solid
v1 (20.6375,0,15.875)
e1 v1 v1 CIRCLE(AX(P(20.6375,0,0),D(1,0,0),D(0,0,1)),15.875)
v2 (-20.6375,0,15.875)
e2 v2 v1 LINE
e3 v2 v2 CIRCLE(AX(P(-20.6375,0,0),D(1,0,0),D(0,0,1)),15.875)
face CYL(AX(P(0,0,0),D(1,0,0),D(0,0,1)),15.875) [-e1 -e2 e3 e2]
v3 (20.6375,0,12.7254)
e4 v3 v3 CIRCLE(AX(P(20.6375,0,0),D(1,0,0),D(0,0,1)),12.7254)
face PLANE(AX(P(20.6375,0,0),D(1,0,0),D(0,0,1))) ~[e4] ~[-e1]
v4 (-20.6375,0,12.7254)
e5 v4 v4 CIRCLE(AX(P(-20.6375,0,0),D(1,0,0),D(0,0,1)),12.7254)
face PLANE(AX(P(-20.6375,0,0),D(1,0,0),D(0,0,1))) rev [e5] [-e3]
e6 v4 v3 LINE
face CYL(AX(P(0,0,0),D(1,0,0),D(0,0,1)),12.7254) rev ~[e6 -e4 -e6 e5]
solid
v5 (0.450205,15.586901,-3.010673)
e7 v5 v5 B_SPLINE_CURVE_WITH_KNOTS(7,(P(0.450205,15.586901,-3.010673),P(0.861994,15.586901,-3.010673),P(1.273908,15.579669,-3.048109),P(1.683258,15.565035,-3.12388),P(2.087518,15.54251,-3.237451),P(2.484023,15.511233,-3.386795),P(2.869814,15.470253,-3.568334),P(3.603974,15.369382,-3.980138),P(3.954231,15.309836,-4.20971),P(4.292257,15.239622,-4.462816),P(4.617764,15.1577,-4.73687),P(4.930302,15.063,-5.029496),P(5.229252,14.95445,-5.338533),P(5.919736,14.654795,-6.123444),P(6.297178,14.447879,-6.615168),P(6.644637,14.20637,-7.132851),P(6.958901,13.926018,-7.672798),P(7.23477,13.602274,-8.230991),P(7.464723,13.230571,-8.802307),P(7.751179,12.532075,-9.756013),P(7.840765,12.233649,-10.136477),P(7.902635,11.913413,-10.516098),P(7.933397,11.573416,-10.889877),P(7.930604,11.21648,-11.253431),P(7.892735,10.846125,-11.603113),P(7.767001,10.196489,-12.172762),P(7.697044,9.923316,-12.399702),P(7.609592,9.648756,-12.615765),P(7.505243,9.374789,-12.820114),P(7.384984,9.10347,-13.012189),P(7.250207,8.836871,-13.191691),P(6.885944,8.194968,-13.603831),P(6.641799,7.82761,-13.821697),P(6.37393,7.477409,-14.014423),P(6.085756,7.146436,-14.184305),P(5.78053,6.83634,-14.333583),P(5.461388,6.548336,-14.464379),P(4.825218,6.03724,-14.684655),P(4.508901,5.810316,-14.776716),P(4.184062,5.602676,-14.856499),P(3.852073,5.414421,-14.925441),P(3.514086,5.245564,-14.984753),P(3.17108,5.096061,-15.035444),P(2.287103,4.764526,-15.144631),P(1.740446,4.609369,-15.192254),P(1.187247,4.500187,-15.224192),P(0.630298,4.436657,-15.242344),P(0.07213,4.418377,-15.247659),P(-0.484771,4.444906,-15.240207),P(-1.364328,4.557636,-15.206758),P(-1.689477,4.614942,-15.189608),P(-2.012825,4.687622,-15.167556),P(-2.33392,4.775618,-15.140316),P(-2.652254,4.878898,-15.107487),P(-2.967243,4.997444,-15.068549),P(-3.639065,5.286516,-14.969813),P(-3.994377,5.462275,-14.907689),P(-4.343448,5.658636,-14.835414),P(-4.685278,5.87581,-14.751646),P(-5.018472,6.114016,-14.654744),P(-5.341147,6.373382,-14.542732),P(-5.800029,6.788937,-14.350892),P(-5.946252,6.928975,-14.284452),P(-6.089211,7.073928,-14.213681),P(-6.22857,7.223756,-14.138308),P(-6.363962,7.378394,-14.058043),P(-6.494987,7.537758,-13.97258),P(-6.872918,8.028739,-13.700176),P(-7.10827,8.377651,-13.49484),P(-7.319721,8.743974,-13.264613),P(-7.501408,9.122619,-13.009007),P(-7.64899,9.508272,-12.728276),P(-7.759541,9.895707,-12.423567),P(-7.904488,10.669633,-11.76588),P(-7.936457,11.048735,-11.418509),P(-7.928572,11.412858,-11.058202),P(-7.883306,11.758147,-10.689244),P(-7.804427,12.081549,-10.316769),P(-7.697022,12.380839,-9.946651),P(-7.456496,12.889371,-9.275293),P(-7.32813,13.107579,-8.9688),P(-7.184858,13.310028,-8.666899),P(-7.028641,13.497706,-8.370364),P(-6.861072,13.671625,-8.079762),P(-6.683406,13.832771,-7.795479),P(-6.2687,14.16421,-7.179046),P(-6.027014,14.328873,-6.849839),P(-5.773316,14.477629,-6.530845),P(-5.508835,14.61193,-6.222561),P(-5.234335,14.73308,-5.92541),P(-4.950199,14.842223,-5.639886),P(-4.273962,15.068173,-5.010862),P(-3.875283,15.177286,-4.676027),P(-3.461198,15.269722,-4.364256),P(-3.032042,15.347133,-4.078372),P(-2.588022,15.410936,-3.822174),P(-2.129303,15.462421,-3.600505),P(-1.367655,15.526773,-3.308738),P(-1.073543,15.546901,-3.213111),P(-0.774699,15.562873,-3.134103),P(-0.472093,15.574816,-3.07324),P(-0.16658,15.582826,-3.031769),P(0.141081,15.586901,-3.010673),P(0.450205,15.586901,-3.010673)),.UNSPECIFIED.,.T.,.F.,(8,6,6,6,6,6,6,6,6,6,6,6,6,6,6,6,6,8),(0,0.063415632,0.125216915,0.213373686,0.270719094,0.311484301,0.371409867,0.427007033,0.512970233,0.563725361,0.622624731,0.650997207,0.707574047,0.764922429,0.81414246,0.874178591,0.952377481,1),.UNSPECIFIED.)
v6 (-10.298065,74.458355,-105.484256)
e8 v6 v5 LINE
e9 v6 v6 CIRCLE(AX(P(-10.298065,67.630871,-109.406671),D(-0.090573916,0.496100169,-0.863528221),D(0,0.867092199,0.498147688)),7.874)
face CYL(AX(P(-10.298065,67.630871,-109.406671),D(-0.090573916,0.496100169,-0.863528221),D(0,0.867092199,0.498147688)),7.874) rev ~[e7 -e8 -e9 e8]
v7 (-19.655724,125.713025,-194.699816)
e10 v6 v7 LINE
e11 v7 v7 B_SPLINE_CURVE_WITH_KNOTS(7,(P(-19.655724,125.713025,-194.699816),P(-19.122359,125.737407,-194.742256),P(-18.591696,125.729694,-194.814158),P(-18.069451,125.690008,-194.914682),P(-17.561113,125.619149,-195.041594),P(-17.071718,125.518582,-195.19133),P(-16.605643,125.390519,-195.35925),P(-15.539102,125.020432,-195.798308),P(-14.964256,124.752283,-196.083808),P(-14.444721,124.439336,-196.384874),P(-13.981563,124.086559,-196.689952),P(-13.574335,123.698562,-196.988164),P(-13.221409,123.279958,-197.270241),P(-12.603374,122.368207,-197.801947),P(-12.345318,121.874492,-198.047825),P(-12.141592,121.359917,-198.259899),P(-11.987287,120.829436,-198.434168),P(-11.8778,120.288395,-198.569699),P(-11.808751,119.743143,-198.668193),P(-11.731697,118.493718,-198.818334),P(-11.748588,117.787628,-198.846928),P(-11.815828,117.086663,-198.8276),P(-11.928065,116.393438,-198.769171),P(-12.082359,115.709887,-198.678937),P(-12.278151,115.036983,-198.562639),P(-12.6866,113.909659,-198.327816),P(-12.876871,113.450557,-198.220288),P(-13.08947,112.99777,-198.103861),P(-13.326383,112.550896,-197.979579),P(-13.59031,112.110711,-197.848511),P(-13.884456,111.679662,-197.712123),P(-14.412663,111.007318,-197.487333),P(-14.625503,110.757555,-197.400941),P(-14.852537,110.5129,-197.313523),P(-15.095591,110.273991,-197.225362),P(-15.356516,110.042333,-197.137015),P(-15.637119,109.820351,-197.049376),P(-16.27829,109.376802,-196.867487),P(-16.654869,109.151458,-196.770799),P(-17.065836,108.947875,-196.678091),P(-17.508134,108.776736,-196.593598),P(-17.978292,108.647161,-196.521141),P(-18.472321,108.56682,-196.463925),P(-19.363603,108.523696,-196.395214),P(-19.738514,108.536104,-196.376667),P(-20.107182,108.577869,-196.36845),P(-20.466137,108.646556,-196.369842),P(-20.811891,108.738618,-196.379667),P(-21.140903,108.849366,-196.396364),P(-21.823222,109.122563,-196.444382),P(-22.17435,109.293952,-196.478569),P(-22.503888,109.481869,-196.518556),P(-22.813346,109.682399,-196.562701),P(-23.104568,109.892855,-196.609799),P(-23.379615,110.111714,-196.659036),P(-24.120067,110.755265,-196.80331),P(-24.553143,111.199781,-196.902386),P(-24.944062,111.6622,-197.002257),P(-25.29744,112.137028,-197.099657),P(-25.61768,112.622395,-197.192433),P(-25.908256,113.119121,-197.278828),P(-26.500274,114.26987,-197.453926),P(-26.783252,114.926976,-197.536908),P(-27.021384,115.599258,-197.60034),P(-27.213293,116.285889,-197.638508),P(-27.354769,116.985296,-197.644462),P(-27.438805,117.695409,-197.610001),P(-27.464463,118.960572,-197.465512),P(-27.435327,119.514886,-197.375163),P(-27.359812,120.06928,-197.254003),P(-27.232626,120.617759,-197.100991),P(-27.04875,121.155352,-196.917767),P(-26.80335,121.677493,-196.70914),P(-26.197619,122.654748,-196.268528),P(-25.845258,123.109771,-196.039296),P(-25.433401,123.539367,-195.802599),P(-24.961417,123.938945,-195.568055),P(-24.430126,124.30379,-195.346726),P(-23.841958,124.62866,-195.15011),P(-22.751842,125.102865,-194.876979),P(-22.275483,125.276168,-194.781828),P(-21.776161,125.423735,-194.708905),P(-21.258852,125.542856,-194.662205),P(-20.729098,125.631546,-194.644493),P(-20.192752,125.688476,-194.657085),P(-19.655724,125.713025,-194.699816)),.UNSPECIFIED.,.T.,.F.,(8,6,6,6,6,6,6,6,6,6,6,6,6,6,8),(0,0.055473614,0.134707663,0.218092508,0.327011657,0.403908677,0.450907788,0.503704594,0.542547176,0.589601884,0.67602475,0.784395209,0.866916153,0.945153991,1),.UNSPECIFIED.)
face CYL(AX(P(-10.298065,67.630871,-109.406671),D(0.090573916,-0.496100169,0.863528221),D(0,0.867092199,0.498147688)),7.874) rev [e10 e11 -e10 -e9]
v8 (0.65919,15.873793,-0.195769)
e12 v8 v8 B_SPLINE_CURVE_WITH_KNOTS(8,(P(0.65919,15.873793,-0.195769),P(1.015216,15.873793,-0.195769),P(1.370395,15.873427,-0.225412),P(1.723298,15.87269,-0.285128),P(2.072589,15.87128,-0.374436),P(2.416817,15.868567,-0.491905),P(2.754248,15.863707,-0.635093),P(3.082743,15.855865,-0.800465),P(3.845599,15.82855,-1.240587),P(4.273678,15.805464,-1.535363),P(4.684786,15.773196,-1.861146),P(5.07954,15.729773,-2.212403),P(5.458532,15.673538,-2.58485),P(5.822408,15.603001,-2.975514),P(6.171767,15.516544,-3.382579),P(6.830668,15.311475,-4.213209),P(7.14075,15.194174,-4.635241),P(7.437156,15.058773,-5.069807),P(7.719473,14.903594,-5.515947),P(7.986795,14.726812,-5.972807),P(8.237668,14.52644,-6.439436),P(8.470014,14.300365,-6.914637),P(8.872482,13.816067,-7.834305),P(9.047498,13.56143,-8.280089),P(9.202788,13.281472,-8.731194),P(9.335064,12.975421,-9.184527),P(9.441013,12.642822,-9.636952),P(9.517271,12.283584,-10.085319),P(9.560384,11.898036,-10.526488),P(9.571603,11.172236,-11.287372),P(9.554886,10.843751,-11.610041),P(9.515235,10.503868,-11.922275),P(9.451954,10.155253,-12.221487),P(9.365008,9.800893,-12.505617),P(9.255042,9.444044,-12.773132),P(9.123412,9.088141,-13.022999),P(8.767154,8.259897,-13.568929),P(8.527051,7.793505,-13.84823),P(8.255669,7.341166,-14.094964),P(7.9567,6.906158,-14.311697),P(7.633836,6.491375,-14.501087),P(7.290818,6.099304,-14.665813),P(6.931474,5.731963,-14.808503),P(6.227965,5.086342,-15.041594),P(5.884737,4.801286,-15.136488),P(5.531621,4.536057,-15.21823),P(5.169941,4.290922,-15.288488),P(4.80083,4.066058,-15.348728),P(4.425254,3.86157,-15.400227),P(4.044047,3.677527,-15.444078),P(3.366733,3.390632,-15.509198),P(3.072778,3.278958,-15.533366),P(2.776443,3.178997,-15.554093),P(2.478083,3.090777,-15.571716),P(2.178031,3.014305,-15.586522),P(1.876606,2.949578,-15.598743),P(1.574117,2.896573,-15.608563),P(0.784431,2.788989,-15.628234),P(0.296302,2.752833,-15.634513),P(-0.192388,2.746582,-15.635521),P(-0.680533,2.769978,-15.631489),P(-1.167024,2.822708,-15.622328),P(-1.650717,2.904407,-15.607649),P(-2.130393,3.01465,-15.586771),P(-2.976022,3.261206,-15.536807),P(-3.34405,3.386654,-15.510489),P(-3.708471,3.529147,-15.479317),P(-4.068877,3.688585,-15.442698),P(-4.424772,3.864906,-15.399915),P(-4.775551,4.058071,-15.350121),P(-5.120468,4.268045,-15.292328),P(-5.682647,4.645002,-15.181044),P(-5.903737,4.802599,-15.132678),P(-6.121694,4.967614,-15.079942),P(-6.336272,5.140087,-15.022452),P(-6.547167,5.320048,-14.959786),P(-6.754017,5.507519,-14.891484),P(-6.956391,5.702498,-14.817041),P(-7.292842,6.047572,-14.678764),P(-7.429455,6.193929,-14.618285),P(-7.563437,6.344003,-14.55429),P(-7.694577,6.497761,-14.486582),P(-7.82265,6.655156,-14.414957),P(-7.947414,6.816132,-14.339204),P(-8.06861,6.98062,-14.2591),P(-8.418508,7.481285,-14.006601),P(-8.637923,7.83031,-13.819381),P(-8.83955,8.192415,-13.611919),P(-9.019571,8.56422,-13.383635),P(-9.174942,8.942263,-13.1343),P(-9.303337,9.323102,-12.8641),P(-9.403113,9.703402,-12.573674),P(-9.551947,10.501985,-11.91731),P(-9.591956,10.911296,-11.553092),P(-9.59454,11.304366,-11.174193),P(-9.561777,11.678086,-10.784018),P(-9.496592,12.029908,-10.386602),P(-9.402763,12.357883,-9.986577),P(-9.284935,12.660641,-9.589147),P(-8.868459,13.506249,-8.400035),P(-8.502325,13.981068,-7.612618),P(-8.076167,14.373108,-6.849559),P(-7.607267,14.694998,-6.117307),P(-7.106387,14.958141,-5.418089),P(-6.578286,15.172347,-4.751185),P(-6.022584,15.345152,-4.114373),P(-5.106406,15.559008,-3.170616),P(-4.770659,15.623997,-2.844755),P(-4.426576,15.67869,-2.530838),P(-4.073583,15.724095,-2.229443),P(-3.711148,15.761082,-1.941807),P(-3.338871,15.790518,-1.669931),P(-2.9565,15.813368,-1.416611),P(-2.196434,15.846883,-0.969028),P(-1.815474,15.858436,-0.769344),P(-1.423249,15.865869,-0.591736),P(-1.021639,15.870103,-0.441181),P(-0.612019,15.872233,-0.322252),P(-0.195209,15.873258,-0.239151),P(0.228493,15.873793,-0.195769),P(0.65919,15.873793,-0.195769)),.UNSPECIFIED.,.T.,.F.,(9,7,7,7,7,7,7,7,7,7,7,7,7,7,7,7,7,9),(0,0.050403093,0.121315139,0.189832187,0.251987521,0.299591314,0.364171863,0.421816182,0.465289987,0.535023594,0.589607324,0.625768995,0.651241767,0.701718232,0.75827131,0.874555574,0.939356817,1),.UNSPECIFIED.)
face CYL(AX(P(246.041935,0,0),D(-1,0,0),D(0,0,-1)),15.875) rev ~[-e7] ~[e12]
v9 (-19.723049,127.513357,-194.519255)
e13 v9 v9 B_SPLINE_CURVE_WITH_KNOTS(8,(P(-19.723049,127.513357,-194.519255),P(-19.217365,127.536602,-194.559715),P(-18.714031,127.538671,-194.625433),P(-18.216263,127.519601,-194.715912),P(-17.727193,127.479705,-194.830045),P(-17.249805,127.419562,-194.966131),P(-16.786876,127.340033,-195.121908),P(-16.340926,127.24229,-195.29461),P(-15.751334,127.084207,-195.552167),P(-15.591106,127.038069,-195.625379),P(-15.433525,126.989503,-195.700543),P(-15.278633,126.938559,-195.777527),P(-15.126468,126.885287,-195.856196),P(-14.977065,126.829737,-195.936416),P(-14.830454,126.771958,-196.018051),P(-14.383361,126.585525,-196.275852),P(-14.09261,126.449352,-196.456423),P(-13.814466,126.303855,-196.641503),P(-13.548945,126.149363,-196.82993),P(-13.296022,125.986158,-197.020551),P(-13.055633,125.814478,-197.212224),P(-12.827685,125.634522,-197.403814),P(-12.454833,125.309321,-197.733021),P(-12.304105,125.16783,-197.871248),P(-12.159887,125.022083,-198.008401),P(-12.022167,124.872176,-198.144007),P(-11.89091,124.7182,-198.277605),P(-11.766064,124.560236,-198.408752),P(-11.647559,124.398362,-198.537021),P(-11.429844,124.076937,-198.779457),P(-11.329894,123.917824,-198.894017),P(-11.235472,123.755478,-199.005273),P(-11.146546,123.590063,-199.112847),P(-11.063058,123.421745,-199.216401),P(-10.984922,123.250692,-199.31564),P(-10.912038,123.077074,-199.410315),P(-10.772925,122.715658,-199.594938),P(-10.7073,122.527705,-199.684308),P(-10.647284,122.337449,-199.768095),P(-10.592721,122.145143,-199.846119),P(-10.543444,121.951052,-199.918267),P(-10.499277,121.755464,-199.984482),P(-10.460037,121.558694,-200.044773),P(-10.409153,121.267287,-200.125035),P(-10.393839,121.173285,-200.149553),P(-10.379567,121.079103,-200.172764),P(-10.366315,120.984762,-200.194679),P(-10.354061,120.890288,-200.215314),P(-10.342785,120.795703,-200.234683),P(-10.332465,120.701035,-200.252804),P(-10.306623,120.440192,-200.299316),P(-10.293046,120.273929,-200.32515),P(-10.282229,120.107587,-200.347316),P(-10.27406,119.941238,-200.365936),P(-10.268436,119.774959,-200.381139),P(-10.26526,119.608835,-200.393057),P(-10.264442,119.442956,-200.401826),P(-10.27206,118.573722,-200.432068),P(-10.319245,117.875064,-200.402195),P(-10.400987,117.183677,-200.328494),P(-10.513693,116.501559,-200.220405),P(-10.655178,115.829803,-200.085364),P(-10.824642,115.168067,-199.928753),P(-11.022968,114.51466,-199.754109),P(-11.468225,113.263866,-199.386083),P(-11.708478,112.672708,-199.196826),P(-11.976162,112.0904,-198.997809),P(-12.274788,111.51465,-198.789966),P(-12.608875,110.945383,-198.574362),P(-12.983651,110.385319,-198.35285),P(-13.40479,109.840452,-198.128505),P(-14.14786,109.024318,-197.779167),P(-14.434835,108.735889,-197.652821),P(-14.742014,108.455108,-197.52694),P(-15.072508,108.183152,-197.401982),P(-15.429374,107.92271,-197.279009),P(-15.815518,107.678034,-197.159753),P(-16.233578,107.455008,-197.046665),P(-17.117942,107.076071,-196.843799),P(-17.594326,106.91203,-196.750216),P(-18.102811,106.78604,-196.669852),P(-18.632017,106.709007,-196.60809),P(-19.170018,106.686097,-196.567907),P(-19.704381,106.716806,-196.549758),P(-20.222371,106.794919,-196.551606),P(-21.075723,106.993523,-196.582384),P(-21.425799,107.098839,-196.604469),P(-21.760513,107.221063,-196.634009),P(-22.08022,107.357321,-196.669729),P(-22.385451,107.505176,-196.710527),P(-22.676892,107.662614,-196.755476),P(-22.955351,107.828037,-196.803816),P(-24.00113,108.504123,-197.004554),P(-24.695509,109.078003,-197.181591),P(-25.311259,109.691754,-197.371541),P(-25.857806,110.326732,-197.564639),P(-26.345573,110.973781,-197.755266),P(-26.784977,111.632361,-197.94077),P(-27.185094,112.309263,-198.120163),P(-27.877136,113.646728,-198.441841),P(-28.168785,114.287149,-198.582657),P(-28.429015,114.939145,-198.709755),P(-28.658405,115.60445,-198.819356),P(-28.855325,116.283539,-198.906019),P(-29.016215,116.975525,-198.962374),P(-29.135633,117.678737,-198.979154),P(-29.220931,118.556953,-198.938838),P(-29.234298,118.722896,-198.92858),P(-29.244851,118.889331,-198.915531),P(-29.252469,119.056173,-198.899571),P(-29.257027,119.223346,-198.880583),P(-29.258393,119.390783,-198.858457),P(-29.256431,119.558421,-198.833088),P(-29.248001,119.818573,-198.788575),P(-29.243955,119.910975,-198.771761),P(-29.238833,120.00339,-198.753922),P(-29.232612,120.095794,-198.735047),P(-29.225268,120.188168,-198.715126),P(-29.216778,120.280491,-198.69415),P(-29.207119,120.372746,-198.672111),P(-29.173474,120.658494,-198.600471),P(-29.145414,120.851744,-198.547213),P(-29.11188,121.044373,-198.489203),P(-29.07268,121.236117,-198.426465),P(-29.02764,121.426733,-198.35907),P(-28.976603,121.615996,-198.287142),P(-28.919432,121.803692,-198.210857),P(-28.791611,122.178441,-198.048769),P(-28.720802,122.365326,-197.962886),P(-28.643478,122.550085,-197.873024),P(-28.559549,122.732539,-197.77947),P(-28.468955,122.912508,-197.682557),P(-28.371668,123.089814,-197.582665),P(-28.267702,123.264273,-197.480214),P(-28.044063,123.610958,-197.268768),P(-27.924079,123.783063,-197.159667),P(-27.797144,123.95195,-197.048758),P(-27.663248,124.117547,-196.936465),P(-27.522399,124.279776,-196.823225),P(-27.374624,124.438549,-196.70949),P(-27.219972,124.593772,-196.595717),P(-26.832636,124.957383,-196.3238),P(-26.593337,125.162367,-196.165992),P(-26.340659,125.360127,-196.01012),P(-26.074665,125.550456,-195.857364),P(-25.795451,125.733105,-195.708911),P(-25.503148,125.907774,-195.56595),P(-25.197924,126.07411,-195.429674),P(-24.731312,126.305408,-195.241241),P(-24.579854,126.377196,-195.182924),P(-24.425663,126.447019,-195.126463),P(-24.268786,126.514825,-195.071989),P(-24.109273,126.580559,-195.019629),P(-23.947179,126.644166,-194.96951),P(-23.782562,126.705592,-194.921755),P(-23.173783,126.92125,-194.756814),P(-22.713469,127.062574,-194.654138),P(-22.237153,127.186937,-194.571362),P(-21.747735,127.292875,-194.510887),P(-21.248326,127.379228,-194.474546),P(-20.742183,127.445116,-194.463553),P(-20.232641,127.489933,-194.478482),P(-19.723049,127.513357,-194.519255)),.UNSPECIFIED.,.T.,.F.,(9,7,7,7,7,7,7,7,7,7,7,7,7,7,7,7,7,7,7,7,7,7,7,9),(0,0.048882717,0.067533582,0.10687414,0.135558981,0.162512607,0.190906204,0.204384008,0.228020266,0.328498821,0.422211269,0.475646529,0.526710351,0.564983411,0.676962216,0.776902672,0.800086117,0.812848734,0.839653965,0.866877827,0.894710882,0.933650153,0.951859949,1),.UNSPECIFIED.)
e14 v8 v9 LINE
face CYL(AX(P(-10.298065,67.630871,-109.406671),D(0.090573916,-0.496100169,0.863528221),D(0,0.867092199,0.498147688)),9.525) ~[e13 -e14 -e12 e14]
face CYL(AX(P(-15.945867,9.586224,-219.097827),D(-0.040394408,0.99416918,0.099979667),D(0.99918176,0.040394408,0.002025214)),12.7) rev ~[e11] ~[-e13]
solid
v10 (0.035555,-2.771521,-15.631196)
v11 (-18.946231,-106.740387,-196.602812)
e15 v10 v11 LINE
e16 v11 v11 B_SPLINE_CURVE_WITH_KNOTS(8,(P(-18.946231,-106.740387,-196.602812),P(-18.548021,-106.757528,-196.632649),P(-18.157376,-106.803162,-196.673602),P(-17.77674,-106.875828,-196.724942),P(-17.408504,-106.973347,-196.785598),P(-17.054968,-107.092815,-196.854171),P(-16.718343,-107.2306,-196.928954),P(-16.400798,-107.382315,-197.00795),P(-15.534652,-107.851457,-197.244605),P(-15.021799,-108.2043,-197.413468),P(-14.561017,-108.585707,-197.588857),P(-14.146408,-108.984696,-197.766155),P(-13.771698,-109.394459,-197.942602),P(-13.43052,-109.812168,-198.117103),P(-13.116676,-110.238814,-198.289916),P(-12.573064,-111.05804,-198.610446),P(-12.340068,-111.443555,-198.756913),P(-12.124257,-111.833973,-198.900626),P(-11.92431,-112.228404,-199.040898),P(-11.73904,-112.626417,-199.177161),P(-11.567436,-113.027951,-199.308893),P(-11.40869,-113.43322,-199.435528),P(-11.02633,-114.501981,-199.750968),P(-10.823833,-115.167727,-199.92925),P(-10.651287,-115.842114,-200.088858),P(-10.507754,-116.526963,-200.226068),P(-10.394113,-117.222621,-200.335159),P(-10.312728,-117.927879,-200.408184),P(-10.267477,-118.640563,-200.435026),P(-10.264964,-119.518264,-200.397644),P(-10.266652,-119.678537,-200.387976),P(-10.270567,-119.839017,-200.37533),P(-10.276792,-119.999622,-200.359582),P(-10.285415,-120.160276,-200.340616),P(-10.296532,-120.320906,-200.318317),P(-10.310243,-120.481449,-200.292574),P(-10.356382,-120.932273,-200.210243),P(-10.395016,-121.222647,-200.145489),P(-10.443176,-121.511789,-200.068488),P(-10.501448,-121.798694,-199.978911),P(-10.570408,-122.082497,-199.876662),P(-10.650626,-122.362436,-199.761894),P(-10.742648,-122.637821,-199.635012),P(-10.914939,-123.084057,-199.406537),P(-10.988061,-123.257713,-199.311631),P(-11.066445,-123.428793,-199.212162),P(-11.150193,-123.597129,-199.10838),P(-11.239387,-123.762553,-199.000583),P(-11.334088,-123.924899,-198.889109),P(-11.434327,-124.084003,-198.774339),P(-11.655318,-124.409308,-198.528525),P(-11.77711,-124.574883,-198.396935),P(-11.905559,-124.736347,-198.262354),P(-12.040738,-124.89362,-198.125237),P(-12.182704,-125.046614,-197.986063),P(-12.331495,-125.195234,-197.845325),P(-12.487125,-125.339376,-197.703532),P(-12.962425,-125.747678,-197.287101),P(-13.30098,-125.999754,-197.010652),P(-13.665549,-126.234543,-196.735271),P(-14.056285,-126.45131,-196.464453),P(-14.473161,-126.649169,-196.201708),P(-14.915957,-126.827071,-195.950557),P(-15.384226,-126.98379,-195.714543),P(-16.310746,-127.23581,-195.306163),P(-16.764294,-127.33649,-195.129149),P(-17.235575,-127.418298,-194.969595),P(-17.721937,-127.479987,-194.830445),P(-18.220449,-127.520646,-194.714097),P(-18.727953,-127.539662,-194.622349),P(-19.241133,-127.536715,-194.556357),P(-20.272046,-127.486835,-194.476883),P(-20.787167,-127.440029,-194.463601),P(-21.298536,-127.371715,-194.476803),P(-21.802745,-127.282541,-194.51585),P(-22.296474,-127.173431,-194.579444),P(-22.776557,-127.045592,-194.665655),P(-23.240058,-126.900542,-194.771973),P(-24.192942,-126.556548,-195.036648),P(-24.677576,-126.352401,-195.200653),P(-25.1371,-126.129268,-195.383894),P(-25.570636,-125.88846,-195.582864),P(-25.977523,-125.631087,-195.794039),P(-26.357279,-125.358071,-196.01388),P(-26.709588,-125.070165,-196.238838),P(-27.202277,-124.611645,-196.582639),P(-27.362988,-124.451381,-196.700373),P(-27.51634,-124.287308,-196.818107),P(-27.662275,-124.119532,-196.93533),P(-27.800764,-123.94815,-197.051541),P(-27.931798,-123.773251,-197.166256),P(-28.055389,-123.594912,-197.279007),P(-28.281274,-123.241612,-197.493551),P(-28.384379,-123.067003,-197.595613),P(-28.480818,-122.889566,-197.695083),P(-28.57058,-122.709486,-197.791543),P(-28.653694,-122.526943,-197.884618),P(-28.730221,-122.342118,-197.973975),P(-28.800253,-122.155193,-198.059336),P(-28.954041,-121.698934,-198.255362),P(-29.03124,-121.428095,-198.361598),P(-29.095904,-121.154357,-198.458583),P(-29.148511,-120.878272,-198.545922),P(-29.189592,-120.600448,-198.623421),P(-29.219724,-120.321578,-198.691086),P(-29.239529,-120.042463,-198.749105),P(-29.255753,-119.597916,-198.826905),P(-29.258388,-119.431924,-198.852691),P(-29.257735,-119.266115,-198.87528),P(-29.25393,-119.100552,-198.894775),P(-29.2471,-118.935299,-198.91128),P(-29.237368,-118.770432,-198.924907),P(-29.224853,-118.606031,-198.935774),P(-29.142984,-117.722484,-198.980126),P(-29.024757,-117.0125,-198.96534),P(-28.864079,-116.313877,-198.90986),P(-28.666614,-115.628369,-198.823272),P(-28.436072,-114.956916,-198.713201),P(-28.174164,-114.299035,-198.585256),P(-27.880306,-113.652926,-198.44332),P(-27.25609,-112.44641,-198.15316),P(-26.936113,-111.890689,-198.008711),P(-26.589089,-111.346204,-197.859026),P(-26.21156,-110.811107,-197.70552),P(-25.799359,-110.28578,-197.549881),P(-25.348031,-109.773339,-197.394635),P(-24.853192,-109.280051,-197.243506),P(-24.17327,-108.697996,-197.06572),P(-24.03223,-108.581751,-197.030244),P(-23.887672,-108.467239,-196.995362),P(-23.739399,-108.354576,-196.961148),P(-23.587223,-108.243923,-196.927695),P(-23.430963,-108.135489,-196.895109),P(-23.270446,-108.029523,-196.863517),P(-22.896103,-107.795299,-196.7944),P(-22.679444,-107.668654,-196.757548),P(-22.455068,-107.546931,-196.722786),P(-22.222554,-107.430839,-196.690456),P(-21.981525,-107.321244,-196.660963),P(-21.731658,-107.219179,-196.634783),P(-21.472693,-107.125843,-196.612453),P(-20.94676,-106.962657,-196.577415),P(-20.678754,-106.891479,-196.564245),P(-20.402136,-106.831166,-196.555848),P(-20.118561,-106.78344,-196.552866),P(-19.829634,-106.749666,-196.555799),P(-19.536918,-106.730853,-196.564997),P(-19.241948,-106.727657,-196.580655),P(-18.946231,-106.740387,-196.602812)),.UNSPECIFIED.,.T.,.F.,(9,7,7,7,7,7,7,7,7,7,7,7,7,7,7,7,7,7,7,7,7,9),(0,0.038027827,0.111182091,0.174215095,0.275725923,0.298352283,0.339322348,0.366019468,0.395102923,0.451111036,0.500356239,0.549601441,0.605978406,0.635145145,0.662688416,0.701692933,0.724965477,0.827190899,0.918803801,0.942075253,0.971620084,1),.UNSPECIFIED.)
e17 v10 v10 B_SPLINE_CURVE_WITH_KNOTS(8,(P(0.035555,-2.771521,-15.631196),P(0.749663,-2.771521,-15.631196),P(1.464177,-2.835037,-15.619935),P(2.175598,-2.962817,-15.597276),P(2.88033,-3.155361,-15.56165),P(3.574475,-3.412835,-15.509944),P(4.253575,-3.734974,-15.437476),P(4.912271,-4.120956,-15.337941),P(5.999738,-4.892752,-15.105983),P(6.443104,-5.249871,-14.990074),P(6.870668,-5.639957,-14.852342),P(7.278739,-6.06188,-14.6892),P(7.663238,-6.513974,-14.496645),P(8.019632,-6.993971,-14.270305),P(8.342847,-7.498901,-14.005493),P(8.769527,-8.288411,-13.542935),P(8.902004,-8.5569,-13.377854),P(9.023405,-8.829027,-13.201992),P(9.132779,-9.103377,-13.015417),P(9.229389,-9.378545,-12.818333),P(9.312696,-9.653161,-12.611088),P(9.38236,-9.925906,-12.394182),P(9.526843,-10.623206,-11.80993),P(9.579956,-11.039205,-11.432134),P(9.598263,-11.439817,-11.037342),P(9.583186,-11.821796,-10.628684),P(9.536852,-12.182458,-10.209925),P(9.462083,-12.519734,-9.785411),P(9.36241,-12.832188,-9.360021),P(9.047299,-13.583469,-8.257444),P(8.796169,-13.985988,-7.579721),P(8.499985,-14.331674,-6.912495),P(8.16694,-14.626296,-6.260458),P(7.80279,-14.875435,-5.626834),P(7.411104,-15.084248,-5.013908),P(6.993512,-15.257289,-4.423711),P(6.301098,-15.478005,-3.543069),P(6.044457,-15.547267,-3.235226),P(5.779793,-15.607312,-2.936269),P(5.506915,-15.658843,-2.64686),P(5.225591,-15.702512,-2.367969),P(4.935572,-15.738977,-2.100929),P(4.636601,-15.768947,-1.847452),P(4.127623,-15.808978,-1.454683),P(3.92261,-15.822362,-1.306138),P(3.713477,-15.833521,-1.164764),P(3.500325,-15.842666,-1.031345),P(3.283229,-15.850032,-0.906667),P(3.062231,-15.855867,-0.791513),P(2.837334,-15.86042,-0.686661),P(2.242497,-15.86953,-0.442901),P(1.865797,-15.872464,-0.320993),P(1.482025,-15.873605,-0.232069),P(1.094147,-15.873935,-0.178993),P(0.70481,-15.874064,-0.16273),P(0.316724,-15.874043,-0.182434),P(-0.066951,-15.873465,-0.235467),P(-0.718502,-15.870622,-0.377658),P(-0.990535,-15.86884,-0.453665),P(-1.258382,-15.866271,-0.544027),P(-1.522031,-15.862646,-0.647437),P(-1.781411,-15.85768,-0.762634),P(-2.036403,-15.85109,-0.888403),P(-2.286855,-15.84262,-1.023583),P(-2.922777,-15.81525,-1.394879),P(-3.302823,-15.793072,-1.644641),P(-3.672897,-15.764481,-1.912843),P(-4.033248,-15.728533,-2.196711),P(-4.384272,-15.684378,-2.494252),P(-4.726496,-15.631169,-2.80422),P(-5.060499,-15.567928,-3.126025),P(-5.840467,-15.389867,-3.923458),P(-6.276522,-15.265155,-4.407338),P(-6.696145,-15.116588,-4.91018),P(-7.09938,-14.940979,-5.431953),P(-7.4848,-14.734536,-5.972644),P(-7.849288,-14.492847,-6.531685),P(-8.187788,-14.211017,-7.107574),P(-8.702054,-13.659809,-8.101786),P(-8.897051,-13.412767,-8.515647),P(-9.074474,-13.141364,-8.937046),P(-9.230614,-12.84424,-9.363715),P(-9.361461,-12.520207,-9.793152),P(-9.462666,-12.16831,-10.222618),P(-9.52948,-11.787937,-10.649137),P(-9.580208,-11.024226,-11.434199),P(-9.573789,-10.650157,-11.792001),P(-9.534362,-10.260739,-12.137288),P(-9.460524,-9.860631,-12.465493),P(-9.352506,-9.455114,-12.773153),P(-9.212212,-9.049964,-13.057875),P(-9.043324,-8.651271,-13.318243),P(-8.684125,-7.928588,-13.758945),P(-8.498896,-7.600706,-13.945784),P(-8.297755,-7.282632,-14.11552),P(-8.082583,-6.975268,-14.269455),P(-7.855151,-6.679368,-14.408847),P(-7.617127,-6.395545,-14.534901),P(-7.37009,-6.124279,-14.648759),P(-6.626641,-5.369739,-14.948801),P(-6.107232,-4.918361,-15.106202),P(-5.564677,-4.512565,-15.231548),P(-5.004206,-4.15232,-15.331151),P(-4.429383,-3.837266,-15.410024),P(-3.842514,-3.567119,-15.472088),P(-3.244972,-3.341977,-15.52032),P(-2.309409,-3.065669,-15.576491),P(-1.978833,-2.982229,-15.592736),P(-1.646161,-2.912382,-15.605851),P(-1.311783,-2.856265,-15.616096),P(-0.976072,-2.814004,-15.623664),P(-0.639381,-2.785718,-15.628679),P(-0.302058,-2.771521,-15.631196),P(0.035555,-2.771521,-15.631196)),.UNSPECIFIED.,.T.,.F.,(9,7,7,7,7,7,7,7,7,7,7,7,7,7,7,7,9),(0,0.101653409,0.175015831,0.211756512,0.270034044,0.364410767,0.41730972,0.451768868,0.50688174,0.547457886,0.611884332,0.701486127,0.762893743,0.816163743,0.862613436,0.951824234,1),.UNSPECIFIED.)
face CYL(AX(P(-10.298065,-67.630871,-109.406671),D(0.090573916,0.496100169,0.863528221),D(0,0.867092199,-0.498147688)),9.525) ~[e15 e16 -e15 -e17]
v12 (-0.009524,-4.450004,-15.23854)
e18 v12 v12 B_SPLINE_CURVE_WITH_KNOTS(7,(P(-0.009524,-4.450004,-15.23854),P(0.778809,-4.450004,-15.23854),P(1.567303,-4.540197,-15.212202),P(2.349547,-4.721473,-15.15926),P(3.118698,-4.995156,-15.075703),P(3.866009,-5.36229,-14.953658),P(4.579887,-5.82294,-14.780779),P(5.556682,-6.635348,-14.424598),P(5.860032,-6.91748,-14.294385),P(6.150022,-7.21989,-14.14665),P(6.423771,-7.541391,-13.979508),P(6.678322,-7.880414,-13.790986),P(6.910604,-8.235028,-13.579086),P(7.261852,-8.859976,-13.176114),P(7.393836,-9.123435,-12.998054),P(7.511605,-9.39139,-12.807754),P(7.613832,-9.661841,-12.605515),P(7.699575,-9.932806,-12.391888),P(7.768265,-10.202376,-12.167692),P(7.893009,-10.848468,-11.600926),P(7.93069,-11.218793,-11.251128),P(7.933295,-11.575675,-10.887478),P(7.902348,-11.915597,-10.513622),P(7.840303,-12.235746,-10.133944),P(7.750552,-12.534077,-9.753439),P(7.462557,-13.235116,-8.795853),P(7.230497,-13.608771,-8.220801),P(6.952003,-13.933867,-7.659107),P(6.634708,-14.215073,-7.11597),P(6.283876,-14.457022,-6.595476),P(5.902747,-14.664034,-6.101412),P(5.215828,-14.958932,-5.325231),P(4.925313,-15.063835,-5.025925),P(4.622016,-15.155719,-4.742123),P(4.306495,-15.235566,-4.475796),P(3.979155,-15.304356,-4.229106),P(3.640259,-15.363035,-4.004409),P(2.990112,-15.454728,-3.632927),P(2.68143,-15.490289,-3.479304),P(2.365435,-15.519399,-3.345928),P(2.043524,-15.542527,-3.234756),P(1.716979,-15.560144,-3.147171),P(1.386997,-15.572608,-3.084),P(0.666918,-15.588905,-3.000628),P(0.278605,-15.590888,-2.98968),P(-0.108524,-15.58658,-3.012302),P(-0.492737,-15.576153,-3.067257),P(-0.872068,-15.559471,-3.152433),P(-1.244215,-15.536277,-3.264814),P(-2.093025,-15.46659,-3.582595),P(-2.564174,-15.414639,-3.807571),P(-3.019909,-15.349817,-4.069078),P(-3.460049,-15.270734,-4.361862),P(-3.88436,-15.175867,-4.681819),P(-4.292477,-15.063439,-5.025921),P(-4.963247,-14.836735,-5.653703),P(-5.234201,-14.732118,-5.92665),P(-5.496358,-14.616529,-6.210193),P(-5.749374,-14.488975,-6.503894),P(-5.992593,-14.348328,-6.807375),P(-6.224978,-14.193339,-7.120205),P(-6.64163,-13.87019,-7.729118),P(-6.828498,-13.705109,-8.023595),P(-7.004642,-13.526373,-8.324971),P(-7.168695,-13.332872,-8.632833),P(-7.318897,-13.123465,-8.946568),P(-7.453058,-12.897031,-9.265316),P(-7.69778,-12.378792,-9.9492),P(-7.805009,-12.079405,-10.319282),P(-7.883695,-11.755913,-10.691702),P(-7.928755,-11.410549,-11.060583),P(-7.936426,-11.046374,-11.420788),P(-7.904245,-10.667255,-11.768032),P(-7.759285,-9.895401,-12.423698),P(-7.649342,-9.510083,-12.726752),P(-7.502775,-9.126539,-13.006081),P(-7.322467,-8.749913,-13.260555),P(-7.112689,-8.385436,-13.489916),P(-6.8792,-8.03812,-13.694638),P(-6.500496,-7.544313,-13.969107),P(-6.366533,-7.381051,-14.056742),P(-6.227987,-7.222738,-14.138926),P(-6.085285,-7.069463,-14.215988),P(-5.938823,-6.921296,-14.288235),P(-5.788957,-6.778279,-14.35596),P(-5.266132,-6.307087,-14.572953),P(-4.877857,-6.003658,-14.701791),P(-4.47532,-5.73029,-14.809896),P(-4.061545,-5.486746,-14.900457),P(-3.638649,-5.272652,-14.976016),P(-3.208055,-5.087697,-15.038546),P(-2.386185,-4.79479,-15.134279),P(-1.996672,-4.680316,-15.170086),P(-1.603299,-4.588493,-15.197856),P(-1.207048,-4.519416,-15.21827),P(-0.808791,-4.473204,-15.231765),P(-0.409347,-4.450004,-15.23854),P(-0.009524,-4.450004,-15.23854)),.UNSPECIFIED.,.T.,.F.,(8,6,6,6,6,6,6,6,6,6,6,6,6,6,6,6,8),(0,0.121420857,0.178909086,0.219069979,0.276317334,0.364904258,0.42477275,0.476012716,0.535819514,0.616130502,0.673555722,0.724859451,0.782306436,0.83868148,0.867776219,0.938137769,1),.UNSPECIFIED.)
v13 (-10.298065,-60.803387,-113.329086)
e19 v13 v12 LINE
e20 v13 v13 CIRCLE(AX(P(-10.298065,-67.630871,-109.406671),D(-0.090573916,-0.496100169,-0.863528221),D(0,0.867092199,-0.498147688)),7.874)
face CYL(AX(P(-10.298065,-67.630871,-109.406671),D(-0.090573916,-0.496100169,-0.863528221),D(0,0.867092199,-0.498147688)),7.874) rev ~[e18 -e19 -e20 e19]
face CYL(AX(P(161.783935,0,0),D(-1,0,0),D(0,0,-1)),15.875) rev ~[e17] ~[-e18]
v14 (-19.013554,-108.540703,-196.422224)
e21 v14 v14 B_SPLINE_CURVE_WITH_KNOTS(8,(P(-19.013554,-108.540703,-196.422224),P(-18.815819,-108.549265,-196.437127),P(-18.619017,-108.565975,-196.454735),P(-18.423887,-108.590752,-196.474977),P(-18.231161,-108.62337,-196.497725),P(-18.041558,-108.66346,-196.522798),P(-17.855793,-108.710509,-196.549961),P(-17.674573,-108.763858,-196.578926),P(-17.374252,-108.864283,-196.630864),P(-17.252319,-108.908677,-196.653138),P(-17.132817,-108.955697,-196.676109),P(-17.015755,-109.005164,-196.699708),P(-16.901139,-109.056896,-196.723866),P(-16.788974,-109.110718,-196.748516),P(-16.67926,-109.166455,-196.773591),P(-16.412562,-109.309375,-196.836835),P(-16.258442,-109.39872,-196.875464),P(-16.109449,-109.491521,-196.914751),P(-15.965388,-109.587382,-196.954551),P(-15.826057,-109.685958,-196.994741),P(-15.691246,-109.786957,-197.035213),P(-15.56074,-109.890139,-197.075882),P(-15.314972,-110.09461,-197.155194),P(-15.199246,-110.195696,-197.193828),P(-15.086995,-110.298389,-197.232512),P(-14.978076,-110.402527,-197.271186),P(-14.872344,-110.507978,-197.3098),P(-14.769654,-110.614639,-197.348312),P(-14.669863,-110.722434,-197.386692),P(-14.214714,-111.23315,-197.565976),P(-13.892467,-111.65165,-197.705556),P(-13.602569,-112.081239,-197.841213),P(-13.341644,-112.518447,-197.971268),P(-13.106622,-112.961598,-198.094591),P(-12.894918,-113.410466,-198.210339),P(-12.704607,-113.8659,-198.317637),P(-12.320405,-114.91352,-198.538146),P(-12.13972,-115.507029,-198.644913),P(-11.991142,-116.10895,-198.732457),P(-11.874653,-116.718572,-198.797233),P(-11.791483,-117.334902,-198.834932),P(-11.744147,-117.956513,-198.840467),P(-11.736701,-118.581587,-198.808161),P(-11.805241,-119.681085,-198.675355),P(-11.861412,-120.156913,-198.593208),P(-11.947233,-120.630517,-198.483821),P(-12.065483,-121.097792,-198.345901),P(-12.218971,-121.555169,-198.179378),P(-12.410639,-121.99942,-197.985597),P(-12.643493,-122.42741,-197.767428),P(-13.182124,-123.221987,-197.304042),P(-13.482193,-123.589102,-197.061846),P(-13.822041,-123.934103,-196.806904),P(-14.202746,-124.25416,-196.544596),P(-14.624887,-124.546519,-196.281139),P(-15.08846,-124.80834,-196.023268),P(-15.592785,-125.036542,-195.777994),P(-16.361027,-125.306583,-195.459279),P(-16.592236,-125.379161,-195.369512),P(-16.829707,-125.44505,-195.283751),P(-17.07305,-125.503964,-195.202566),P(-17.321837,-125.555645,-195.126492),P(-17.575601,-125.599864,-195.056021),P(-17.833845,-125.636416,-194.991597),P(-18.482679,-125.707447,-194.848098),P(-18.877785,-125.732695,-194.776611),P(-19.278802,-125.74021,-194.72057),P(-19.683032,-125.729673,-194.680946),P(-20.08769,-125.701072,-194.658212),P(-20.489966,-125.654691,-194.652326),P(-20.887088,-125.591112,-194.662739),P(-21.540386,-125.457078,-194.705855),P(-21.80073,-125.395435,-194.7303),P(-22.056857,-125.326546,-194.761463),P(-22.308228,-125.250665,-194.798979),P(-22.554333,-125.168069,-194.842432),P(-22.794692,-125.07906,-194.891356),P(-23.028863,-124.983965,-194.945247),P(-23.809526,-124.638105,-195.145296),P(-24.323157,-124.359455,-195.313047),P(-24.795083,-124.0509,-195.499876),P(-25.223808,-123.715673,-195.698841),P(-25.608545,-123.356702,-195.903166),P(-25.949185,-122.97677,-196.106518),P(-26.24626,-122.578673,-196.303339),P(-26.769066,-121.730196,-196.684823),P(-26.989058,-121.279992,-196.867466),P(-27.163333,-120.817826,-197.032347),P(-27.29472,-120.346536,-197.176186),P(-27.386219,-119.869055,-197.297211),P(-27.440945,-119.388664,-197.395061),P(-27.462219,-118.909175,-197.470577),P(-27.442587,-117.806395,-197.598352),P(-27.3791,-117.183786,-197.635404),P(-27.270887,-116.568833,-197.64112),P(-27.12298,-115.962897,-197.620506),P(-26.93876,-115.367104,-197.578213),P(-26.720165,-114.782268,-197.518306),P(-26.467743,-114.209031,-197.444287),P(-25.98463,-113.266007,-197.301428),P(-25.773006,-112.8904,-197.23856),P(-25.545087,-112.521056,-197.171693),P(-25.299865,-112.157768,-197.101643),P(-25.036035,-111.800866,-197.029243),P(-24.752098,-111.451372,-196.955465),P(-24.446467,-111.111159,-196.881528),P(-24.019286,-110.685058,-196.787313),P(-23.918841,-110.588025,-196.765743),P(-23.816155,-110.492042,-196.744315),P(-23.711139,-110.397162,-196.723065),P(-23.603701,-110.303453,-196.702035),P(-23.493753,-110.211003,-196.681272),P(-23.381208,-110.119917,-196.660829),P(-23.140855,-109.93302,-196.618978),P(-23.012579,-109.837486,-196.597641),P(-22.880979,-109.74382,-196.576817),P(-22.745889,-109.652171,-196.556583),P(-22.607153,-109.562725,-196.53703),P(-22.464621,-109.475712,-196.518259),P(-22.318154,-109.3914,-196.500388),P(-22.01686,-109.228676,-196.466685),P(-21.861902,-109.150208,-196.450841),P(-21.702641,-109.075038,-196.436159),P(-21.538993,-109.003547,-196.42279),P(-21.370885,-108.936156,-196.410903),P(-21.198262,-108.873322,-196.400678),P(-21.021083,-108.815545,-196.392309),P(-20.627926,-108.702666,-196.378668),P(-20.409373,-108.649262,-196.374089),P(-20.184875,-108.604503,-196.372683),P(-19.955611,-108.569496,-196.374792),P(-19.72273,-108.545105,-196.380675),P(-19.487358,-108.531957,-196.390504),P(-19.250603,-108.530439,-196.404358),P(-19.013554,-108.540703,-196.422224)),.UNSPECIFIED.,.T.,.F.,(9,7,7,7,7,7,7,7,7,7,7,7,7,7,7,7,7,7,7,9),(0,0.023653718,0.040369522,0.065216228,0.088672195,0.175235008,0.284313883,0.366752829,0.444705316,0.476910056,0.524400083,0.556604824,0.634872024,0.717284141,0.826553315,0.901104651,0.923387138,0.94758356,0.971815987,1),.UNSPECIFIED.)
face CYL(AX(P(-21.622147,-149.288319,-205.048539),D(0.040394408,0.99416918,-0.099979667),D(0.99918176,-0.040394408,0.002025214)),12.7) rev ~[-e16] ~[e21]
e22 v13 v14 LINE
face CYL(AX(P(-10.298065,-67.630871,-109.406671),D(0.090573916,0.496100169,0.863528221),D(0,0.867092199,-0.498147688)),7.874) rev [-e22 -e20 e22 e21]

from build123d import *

# Parameters (mm, degrees)
SKETCH6_W                       = 41.275
SKETCH6_H                       = 3.1496
BOSS_EXTRUDE3_REACH             = 155.707
BOSS_EXTRUDE3_END_RADIUS        = 15.875
SKETCH7_R                       = 9.525
SKETCH7_R_2                     = 7.874
BOSS_EXTRUDE3_DIRECTION_2_DEPTH = 113.697907
BOSS_EXTRUDE4_REACH             = 239.965
BOSS_EXTRUDE4_END_RADIUS        = 15.875
SKETCH8_R                       = 9.525
SKETCH8_R_2                     = 7.874
BOSS_EXTRUDE4_DIRECTION_2_DEPTH = 113.697907
SKETCH5_R                       = 12.7


with BuildPart() as part:
    # Sketch6 → Revolve2 (revolve)
    with BuildSketch(Plane(origin=(0, 0, 0), x_dir=(1, 0, 0), z_dir=(0, 1, 0)), mode=Mode.PRIVATE) as revolve2_sk:
        with Locations((0, 14.3002)):
            Rectangle(SKETCH6_W, SKETCH6_H)
    revolve(revolve2_sk.sketch.rotate(Axis((-66.78681796, 0, 0), (1, 0, 0)), 180), axis=Axis((-66.78681796, 0, 0), (1, 0, 0)))


with BuildPart() as body_2:
    # Boss-Extrude3: up to this cylinder (the profile starts outside it)
    boss_extrude3_end = Plane(origin=(-10.298065, 0, 0), z_dir=(-1, 0, 0)) * Cylinder(BOSS_EXTRUDE3_END_RADIUS, 344.164, mode=Mode.PRIVATE)
    # Sketch7 → Boss-Extrude3 (new, up to the surface)
    with BuildSketch(Plane(origin=(-10.298064703, -67.630870949, -109.406671296), x_dir=(-0.5677718732695322, 0.7380955319549846, -0.36448605684181484), z_dir=(-0.09057391637954032, -0.496100169184832, -0.8635282206196003)), mode=Mode.PRIVATE) as boss_extrude3_sk1:
        with Locations(Location((0, 0, 0), (0, 0, 34.75825921))):
            Circle(SKETCH7_R)
        with Locations(Location((0, 0, 0), (0, 0, 34.75825921))):
            Circle(SKETCH7_R_2, mode=Mode.SUBTRACT)
    boss_extrude3_tool1 = extrude(boss_extrude3_sk1.sketch, amount=-BOSS_EXTRUDE3_REACH, mode=Mode.PRIVATE) - boss_extrude3_end
    add(boss_extrude3_tool1.solids().sort_by_distance((-10.298065, -75.656323, -104.796019))[0])

    # Sketch7 → Boss-Extrude3 direction 2 (add)
    with BuildSketch(Plane(origin=(-10.298064703, -67.630870949, -109.406671296), x_dir=(-0.5677718732695322, 0.7380955319549846, -0.36448605684181484), z_dir=(-0.09057391637954032, -0.496100169184832, -0.8635282206196003))):
        with Locations(Location((0, 0, 0), (0, 0, 34.75825921))):
            Circle(SKETCH7_R)
        with Locations(Location((0, 0, 0), (0, 0, 34.75825921))):
            Circle(SKETCH7_R_2, mode=Mode.SUBTRACT)
    extrude(amount=BOSS_EXTRUDE3_DIRECTION_2_DEPTH)


with BuildPart() as body_3:
    # Boss-Extrude4: up to this cylinder (the profile starts outside it)
    boss_extrude4_end = Plane(origin=(-10.298065, 0, 0), z_dir=(-1, 0, 0)) * Cylinder(BOSS_EXTRUDE4_END_RADIUS, 512.68, mode=Mode.PRIVATE)
    # Sketch8 → Boss-Extrude4 (new, up to the surface)
    with BuildSketch(Plane(origin=(-10.298064703, 67.630870949, -109.406671296), x_dir=(-0.9336956723978411, -0.343921706944635, -0.09965064394088002), z_dir=(-0.09057391637954033, 0.4961001691848235, -0.8635282206196053)), mode=Mode.PRIVATE) as boss_extrude4_sk1:
        with Locations(Location((0, 0, 0), (0, 0, 110.356024642))):
            Circle(SKETCH8_R)
        with Locations(Location((0, 0, 0), (0, 0, 110.356024642))):
            Circle(SKETCH8_R_2, mode=Mode.SUBTRACT)
    boss_extrude4_tool1 = extrude(boss_extrude4_sk1.sketch, amount=-BOSS_EXTRUDE4_REACH, mode=Mode.PRIVATE) - boss_extrude4_end
    add(boss_extrude4_tool1.solids().sort_by_distance((-10.298065, 59.605419, -114.017323))[0])

    # Sketch8 → Boss-Extrude4 direction 2 (add)
    with BuildSketch(Plane(origin=(-10.298064703, 67.630870949, -109.406671296), x_dir=(-0.9336956723978411, -0.343921706944635, -0.09965064394088002), z_dir=(-0.09057391637954033, 0.4961001691848235, -0.8635282206196053))):
        with Locations(Location((0, 0, 0), (0, 0, 110.356024642))):
            Circle(SKETCH8_R)
        with Locations(Location((0, 0, 0), (0, 0, 110.356024642))):
            Circle(SKETCH8_R_2, mode=Mode.SUBTRACT)
    extrude(amount=BOSS_EXTRUDE4_DIRECTION_2_DEPTH)


with BuildPart() as cut_sweep1_tool:
    # Cut-Sweep1: sweep along a path in Sketch4
    with BuildLine(Plane(origin=(-89.807251208, 0, -36.284484758), x_dir=(0.3746065934159061, 0, -0.92718385456679), z_dir=(0.92718385456679, 1.7211018129619384e-15, 0.3746065934159061))) as cut_sweep1_path:
        Line((182.017895706, -149.288318914), (197.170540677, -9.5862243))
        ThreePointArc((197.170540677, -9.5862243), (197.688900594, 0), (197.170540677, 9.5862243))
        Line((197.170540677, 9.5862243), (182.017895706, 149.288318914))
    # Sketch5 → Cut-Sweep1 (sweep)
    with BuildSketch(Plane(origin=(0, 0, 0), x_dir=(1, 0, 0), z_dir=(0, 1, 0))):
        with Locations((-15.7516856, 219.578441616)):
            Circle(SKETCH5_R)
    sweep(path=cut_sweep1_path.line)


with BuildPart() as body_2_1:
    add(body_2.part)

    # Cut-Sweep1: cut by cut_sweep1_tool
    add(cut_sweep1_tool.part, mode=Mode.SUBTRACT)


with BuildPart() as body_3_1:
    add(body_3.part)

    # Cut-Sweep1: cut by cut_sweep1_tool
    add(cut_sweep1_tool.part, mode=Mode.SUBTRACT)


solid = Compound([part.part, body_2_1.part, body_3_1.part])
